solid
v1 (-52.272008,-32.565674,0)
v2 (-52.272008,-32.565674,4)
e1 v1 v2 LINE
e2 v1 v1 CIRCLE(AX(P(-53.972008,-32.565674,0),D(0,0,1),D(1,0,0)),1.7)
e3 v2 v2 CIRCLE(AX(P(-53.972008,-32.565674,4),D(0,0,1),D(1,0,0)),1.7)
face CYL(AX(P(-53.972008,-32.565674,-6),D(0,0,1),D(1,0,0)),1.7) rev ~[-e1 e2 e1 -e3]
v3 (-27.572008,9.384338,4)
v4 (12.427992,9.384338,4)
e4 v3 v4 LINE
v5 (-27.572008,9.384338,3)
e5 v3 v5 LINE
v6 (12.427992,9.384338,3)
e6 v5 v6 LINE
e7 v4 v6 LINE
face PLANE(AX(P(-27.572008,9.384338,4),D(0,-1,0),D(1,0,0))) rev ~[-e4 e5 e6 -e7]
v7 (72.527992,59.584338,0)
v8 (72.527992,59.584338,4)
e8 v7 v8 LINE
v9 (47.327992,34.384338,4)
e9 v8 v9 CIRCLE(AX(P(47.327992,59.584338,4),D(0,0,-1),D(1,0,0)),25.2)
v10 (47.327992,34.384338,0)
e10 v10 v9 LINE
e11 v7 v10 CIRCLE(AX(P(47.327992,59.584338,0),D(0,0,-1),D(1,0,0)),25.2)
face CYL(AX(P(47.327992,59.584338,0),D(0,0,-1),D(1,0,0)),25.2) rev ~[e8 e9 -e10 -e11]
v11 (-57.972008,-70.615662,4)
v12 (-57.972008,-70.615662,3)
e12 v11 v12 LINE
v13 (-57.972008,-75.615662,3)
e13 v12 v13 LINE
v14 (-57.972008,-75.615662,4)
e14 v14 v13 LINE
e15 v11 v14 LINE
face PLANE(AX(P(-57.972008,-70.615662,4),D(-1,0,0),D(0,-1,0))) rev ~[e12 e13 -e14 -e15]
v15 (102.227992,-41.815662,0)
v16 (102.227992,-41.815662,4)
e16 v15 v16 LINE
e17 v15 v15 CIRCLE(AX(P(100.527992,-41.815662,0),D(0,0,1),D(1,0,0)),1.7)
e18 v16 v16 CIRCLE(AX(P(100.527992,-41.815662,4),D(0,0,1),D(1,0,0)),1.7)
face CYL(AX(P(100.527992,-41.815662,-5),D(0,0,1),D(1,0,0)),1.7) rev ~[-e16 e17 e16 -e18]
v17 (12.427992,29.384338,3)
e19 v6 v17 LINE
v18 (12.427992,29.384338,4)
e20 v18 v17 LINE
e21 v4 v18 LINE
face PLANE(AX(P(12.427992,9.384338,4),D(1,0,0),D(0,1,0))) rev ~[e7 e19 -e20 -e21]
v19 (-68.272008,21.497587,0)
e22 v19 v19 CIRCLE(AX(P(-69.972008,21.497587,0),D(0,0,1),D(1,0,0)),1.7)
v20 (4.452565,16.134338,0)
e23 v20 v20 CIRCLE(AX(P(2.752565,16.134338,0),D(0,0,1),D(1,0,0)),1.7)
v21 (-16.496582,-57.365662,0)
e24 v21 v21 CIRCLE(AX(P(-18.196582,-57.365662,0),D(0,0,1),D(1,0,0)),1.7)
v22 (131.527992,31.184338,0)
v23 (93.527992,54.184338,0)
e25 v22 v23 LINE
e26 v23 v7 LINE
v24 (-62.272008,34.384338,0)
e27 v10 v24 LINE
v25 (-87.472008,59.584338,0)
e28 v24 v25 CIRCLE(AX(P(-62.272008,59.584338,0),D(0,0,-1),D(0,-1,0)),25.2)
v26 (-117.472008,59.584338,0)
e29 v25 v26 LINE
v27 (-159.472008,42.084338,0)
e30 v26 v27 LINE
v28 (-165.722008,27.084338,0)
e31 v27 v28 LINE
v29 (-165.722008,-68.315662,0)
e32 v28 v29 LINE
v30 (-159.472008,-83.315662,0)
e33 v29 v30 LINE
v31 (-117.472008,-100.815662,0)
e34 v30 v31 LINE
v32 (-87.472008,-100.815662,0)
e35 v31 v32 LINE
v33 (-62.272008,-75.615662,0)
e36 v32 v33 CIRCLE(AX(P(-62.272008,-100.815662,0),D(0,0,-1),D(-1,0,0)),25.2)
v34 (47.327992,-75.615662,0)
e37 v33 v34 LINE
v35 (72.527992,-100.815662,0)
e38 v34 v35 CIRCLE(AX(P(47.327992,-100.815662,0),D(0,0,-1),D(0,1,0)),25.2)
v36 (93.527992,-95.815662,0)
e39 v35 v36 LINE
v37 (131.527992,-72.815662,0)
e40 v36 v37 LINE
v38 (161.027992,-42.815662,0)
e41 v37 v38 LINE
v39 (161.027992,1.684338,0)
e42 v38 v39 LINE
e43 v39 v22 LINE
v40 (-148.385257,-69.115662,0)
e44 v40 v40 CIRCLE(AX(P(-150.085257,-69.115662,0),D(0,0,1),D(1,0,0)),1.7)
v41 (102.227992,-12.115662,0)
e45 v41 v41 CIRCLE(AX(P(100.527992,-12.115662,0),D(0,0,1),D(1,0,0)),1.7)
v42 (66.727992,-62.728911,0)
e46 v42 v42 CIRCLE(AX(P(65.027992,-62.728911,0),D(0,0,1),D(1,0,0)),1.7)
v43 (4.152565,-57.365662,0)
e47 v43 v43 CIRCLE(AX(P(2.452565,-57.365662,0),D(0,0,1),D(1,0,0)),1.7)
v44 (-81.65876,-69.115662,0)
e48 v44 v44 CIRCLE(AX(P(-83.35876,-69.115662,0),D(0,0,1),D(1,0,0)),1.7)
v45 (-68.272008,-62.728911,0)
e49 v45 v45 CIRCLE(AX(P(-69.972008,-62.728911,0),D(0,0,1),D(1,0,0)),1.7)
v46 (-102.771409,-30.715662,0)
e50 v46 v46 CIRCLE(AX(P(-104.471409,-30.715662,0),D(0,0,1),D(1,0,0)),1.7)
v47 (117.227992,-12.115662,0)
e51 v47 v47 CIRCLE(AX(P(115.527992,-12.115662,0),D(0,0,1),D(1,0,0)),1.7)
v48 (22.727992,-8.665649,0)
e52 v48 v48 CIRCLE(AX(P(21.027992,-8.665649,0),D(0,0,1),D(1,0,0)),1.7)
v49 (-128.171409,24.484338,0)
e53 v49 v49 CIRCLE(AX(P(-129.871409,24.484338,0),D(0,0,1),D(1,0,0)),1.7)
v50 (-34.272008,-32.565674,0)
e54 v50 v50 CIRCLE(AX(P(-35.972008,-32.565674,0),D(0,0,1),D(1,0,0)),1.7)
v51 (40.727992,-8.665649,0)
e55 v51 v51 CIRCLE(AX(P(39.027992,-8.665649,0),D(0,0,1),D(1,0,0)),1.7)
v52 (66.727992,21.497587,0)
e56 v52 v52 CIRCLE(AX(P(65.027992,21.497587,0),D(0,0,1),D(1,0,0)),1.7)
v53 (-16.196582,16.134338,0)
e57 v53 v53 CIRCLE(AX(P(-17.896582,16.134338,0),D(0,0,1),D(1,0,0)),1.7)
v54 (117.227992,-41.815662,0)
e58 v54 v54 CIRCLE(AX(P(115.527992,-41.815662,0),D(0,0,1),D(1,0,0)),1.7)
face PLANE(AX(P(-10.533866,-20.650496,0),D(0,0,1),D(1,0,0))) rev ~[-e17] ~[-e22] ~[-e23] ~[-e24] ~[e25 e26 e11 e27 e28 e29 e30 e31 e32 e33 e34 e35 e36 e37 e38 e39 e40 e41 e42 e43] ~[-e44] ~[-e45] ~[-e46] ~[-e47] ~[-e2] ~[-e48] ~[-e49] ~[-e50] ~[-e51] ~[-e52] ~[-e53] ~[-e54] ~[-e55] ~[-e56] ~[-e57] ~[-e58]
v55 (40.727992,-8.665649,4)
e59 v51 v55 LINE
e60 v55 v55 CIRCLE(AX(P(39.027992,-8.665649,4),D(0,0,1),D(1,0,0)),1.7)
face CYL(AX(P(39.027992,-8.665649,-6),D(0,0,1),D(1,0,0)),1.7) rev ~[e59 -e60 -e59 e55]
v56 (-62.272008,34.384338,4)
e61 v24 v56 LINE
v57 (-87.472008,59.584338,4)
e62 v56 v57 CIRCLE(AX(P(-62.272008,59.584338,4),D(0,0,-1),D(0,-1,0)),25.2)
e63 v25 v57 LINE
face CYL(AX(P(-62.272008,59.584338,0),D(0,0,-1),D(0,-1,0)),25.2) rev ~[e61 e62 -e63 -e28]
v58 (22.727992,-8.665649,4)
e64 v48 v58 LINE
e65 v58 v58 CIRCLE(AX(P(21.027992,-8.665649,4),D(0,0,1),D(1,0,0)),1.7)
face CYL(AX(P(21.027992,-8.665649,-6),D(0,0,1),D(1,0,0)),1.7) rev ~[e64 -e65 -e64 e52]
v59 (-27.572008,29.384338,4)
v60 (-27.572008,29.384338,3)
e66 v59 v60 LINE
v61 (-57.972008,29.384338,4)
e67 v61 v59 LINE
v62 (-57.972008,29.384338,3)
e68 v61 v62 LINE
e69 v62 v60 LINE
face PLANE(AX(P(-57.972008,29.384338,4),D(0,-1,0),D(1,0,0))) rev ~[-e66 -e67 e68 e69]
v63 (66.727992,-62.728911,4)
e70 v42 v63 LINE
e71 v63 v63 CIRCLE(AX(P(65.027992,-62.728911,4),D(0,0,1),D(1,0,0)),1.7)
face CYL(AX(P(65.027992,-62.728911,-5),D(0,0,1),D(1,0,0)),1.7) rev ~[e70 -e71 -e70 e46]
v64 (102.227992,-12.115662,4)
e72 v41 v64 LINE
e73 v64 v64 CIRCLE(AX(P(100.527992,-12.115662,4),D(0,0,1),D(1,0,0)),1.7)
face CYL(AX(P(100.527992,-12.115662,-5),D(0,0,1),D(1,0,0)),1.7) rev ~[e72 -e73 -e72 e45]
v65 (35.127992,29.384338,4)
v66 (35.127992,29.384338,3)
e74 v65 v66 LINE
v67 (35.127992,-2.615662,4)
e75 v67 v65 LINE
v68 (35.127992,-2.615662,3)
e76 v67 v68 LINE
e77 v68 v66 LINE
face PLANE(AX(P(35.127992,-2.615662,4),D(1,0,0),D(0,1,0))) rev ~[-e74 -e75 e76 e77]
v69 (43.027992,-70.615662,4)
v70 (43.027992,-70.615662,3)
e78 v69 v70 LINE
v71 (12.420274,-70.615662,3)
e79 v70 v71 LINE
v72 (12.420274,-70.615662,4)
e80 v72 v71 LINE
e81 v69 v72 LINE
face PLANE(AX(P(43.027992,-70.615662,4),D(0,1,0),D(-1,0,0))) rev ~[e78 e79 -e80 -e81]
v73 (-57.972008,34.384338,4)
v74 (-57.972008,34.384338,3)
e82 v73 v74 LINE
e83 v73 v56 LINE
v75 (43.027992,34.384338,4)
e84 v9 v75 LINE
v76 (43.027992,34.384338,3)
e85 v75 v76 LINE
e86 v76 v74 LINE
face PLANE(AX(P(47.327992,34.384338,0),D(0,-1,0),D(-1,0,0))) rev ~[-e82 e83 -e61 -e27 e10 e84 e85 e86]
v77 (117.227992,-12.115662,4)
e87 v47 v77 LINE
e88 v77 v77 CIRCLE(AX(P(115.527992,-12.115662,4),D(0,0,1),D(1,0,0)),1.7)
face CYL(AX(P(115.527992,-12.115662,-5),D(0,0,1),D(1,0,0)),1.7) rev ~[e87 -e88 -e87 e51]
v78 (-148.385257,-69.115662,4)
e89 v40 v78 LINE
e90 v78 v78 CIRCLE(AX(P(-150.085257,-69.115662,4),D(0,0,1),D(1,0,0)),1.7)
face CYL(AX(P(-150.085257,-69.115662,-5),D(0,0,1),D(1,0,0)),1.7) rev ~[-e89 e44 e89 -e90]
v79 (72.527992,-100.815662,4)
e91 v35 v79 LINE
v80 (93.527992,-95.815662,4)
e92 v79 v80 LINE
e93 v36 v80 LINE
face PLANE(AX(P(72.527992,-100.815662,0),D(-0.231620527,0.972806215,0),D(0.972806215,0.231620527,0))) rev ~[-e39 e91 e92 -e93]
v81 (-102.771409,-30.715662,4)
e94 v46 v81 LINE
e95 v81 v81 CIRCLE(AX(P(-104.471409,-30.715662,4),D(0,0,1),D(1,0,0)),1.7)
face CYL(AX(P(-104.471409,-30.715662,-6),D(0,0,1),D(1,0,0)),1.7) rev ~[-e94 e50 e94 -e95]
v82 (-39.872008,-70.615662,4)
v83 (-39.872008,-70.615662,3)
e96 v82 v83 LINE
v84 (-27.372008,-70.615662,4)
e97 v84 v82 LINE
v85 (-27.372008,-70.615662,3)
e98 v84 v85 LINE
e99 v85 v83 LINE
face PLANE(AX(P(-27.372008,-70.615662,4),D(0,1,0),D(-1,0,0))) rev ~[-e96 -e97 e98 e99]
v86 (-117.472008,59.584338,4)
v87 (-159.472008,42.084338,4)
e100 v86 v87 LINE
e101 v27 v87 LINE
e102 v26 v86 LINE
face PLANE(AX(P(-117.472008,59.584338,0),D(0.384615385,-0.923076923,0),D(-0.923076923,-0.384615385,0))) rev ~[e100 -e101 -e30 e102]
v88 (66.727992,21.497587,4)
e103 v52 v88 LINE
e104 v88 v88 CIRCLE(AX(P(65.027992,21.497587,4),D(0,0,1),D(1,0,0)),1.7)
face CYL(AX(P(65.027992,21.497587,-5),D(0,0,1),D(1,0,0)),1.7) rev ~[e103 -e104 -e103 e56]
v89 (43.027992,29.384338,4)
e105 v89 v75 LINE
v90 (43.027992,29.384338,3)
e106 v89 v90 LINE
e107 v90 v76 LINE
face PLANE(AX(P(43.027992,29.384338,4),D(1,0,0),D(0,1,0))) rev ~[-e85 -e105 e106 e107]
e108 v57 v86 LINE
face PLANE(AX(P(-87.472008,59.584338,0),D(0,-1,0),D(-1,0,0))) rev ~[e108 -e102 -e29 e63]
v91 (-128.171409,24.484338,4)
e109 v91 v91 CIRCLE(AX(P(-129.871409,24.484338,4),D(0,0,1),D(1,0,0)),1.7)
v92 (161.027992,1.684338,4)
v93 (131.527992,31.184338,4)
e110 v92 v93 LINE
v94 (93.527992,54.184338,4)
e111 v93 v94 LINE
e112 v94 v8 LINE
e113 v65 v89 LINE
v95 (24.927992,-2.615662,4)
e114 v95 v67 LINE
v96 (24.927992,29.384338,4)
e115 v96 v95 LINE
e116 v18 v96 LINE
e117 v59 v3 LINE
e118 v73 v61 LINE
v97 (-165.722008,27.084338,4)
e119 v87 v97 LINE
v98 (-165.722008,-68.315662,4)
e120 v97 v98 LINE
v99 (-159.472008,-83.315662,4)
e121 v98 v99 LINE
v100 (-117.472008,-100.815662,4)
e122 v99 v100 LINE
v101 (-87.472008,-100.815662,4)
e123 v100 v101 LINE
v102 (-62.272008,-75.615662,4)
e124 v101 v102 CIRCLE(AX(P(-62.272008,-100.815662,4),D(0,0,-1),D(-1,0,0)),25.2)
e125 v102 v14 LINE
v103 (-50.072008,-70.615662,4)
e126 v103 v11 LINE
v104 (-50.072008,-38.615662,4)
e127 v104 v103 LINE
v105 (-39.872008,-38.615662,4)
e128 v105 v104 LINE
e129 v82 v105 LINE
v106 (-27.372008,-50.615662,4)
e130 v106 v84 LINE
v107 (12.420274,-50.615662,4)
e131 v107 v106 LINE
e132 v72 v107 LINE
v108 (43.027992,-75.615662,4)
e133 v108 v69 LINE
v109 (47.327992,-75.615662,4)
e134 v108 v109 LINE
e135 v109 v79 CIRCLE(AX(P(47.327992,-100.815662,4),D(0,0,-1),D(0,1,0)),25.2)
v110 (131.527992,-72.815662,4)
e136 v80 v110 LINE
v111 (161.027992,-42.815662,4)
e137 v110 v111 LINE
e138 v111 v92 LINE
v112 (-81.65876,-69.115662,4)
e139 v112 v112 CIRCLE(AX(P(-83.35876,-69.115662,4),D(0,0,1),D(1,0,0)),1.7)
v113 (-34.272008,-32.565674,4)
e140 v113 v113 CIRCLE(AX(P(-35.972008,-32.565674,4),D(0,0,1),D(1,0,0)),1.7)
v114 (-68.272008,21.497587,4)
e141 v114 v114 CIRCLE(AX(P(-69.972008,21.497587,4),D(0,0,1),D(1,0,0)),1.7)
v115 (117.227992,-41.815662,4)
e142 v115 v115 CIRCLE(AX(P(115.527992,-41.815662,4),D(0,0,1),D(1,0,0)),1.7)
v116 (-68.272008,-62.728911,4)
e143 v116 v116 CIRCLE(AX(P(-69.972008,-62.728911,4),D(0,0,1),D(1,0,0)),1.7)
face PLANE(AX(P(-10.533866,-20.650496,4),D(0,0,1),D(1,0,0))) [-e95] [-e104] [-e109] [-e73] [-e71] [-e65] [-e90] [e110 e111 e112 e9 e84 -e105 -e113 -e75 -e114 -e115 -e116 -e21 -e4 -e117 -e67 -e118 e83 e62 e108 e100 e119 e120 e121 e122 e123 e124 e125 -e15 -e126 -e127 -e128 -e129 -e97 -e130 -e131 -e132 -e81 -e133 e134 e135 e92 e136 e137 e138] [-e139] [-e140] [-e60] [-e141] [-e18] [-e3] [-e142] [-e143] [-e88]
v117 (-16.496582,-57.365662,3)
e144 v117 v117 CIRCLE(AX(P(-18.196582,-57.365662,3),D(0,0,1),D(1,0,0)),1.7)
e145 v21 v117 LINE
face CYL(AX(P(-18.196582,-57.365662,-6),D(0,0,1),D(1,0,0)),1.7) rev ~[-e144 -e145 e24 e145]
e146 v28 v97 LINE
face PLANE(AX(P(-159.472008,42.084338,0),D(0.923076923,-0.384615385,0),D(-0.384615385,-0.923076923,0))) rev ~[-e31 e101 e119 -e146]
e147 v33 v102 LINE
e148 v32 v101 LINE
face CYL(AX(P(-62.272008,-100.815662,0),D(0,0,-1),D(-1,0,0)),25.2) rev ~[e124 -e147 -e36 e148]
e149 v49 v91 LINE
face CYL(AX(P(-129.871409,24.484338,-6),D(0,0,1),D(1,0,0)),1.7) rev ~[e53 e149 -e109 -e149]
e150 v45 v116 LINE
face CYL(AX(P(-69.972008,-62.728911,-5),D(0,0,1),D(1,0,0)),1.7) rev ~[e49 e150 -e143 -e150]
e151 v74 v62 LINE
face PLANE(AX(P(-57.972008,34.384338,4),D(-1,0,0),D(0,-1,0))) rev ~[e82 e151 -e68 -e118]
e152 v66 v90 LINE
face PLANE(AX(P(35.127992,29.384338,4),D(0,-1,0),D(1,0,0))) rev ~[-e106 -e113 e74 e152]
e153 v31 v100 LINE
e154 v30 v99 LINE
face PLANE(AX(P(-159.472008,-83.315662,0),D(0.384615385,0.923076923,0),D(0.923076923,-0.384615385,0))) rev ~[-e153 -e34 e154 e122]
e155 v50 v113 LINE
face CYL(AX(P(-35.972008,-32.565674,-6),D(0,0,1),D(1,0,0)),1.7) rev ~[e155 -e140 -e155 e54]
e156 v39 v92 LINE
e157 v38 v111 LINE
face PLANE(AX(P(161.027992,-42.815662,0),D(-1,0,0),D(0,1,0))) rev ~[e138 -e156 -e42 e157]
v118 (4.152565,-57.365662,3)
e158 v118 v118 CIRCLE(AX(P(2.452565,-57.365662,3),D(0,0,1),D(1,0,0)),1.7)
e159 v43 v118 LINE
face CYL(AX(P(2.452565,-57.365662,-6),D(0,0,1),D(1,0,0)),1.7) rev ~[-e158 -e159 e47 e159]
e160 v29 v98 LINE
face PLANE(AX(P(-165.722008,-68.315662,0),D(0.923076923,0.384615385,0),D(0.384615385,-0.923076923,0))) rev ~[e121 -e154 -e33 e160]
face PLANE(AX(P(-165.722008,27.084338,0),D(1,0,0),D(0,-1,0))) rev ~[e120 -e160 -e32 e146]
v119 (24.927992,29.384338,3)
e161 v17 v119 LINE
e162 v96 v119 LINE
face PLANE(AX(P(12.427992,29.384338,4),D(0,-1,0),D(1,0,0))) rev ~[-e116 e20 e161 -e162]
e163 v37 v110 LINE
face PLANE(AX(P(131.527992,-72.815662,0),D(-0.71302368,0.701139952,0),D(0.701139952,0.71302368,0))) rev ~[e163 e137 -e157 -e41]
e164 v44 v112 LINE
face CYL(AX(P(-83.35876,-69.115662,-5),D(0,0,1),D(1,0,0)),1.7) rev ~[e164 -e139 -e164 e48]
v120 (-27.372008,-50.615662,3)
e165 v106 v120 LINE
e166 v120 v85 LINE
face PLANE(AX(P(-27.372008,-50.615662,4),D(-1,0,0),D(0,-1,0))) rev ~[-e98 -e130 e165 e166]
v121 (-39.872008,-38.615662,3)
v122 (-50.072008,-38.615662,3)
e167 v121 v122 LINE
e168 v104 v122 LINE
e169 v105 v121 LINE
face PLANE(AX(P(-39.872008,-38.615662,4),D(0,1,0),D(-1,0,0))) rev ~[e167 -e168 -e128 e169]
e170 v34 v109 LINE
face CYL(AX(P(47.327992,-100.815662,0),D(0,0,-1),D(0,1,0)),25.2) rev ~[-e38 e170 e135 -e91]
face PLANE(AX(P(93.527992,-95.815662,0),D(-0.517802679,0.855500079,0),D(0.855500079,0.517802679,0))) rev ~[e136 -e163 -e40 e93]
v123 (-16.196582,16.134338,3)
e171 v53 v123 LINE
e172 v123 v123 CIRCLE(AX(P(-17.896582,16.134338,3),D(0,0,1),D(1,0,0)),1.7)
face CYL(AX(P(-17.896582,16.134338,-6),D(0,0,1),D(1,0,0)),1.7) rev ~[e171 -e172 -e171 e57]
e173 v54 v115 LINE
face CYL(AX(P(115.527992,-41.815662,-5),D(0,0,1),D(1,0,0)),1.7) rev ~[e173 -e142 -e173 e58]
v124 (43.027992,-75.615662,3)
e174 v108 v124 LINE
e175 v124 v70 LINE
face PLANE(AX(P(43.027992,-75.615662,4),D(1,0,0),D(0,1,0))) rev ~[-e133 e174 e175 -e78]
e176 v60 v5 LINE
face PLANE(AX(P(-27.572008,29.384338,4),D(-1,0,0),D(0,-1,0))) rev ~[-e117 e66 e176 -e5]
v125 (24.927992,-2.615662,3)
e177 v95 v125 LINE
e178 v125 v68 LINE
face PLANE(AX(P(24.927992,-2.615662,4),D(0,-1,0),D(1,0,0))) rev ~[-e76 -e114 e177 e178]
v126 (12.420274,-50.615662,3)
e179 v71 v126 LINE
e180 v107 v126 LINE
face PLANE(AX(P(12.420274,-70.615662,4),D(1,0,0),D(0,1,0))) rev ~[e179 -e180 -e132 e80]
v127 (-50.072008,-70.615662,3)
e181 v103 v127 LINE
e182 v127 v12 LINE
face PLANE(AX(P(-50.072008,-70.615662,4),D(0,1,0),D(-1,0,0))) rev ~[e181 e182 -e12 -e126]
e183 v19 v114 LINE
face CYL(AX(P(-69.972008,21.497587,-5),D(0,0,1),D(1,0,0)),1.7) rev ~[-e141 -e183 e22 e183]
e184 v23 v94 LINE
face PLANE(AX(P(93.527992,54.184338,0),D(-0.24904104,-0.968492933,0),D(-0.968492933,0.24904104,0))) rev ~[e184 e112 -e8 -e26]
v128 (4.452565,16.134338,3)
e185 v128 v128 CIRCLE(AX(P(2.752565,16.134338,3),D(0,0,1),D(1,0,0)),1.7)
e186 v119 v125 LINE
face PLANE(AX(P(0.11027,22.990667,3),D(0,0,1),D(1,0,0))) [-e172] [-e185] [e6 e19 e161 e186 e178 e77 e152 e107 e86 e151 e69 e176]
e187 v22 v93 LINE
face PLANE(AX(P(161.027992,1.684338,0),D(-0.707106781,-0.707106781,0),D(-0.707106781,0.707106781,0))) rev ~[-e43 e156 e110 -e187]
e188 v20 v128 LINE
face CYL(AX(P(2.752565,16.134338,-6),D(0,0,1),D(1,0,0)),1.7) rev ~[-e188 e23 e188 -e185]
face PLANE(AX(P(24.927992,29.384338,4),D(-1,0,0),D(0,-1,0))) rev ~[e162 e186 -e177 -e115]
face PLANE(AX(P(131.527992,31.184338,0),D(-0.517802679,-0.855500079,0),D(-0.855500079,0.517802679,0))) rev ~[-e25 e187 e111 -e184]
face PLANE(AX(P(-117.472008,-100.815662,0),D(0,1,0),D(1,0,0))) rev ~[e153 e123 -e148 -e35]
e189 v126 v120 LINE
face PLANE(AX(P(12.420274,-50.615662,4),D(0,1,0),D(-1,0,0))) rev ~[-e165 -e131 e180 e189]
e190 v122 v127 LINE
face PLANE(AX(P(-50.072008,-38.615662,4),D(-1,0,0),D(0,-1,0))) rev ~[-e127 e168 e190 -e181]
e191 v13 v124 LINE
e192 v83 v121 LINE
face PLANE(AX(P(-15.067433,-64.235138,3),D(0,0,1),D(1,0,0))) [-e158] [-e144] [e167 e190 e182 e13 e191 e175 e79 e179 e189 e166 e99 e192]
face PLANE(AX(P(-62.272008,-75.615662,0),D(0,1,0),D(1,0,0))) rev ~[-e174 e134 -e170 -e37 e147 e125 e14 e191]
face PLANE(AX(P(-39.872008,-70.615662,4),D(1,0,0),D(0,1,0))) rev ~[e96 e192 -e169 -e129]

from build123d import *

# Parameters (mm, degrees)
BOSS_EXTRU_1_DEPTH      = 4
D_GAGEMENT_M2_51_D      = 2.9
D_GAGEMENT_M2_51_DEPTH  = 5
D_GAGEMENT_M2_51_TIP    = 0.871247898
D_GAGEMENT_M31_D        = 3.4
D_GAGEMENT_M31_DEPTH    = 6
D_GAGEMENT_M31_TIP      = 1.021463052
D_GAGEMENT_M32_D        = 3.4
D_GAGEMENT_M32_DEPTH    = 5
D_GAGEMENT_M32_TIP      = 1.021463052
ENL_V_MAT_EXTRU_1_DEPTH = 1
ENL_V_MAT_EXTRU_2_DEPTH = 1
D_GAGEMENT_M33_D        = 3.4
D_GAGEMENT_M33_DEPTH    = 6
D_GAGEMENT_M33_TIP      = 1.021463052
D_GAGEMENT_M34_D        = 3.4
D_GAGEMENT_M34_DEPTH    = 5
D_GAGEMENT_M34_TIP      = 1.021463052
D_GAGEMENT_M35_D        = 3.4
D_GAGEMENT_M35_DEPTH    = 5
D_GAGEMENT_M35_TIP      = 1.021463052


with BuildPart() as part:
    # Esquisse1 → Boss.-Extru.1 (new body)
    with BuildSketch(Plane.XY):
        with BuildLine():
            Line((-87.472008168, 59.584338106), (-117.472008168, 59.584338106))
            Line((-117.472008168, 59.584338106), (-159.472008168, 42.084338106))
            Line((-159.472008168, 42.084338106), (-165.722008168, 27.084338106))
            Line((-165.722008168, 27.084338106), (-165.722008168, -68.315661894))
            Line((-165.722008168, -68.315661894), (-159.472008168, -83.315661894))
            Line((-159.472008168, -83.315661894), (-117.472008168, -100.815661894))
            Line((-117.472008168, -100.815661894), (-87.472008168, -100.815661894))
            ThreePointArc((-87.472008168, -100.815661894), (-80.091099054, -82.996571008), (-62.272008168, -75.615661894))
            Line((-62.272008168, -75.615661894), (47.327991832, -75.615661894))
            ThreePointArc((47.327991832, -75.615661894), (65.147082718, -82.996571008), (72.527991832, -100.815661894))
            Line((72.527991832, -100.815661894), (93.527991832, -95.815661894))
            Line((93.527991832, -95.815661894), (131.527991832, -72.815661894))
            Line((131.527991832, -72.815661894), (161.027991832, -42.815661894))
            Line((161.027991832, -42.815661894), (161.027991832, 1.684338106))
            Line((161.027991832, 1.684338106), (131.527991832, 31.184338106))
            Line((131.527991832, 31.184338106), (93.527991832, 54.184338106))
            Line((93.527991832, 54.184338106), (72.527991832, 59.584338106))
            ThreePointArc((72.527991832, 59.584338106), (65.147082718, 41.76524722), (47.327991832, 34.384338106))
            Line((47.327991832, 34.384338106), (-62.272008168, 34.384338106))
            ThreePointArc((-62.272008168, 34.384338106), (-80.091099054, 41.76524722), (-87.472008168, 59.584338106))
        make_face()
    extrude(amount=BOSS_EXTRU_1_DEPTH)

    # Dégagement M2.51
    with Locations(Plane(origin=(0, 0, 0), x_dir=(-1, 0, 0), z_dir=(0, 0, -1))):
        with Locations((-21.027991832, -8.66564946), (-39.027991832, -8.66564946), (35.972008168, -32.565674331), (53.972008168, -32.565674331)):
            Hole(D_GAGEMENT_M2_51_D / 2, depth=D_GAGEMENT_M2_51_DEPTH)
            with Locations((0, 0, -(D_GAGEMENT_M2_51_DEPTH + D_GAGEMENT_M2_51_TIP / 2))):  # 118° drill point
                Cone(0, D_GAGEMENT_M2_51_D / 2, D_GAGEMENT_M2_51_TIP, mode=Mode.SUBTRACT)

    # Dégagement M31
    with Locations(Plane(origin=(0, 0, 0), x_dir=(-1, 0, 0), z_dir=(0, 0, -1))):
        with Locations((17.896581687, 16.134338106), (-2.752565352, 16.134338106), (53.972008168, -32.565674331), (35.972008168, -32.565674331), (18.196581687, -57.365661894), (-2.452565352, -57.365661894), (-39.027991832, -8.66564946), (-21.027991832, -8.66564946)):
            Hole(D_GAGEMENT_M31_D / 2, depth=D_GAGEMENT_M31_DEPTH)
            with Locations((0, 0, -(D_GAGEMENT_M31_DEPTH + D_GAGEMENT_M31_TIP / 2))):  # 118° drill point
                Cone(0, D_GAGEMENT_M31_D / 2, D_GAGEMENT_M31_TIP, mode=Mode.SUBTRACT)

    # Dégagement M32
    with Locations(Plane(origin=(0, 0, 0), x_dir=(-1, 0, 0), z_dir=(0, 0, -1))):
        with Locations((69.972008168, -62.728910548), (69.972008168, 21.49758676), (-65.027991832, -62.728910548), (-65.027991832, 21.49758676)):
            Hole(D_GAGEMENT_M32_D / 2, depth=D_GAGEMENT_M32_DEPTH)
            with Locations((0, 0, -(D_GAGEMENT_M32_DEPTH + D_GAGEMENT_M32_TIP / 2))):  # 118° drill point
                Cone(0, D_GAGEMENT_M32_D / 2, D_GAGEMENT_M32_TIP, mode=Mode.SUBTRACT)

    # Esquisse10 → Enlèv. mat.-Extru.1 (cut)
    with BuildSketch(Plane.XY.offset(4)):
        Polygon((43.027991832, -75.615661894), (43.027991832, -70.615661894), (12.42027445, -70.615661894), (12.42027445, -50.615661894), (-27.372008168, -50.615661894), (-27.372008168, -70.615661894), (-36.072008168, -70.615661894), (-39.872008168, -70.615661894), (-39.872008168, -38.615661894), (-50.072008168, -38.615661894), (-50.072008168, -70.615661894), (-57.972008168, -70.615661894), (-57.972008168, -75.615661894), align=None)
    extrude(amount=-ENL_V_MAT_EXTRU_1_DEPTH, mode=Mode.SUBTRACT)

    # Esquisse10<3> → Enlèv. mat.-Extru.2 (cut)
    with BuildSketch(Plane.XY.offset(4)):
        Polygon((43.027991832, 29.384338106), (43.027991832, 34.384338106), (-57.972008168, 34.384338106), (-57.972008168, 29.384338106), (-27.572008168, 29.384338106), (-27.572008168, 9.384338106), (12.427991832, 9.384338106), (12.427991832, 29.384338106), (24.927991832, 29.384338106), (24.927991832, -2.615661894), (35.127991832, -2.615661894), (35.127991832, 29.384338106), align=None)
    extrude(amount=-ENL_V_MAT_EXTRU_2_DEPTH, mode=Mode.SUBTRACT)

    # Dégagement M33
    with Locations(Plane(origin=(0, 0, 0), x_dir=(-1, 0, 0), z_dir=(0, 0, -1))):
        with Locations((104.471408589, -30.715661894), (129.871408589, 24.484338106)):
            Hole(D_GAGEMENT_M33_D / 2, depth=D_GAGEMENT_M33_DEPTH)
            with Locations((0, 0, -(D_GAGEMENT_M33_DEPTH + D_GAGEMENT_M33_TIP / 2))):  # 118° drill point
                Cone(0, D_GAGEMENT_M33_D / 2, D_GAGEMENT_M33_TIP, mode=Mode.SUBTRACT)

    # Dégagement M34
    with Locations(Plane(origin=(0, 0, 0), x_dir=(-1, 0, 0), z_dir=(0, 0, -1))):
        with Locations((-100.527991832, -41.815661894), (-115.527991832, -41.815661894), (-100.527991832, -12.115661894), (-115.527991832, -12.115661894)):
            Hole(D_GAGEMENT_M34_D / 2, depth=D_GAGEMENT_M34_DEPTH)
            with Locations((0, 0, -(D_GAGEMENT_M34_DEPTH + D_GAGEMENT_M34_TIP / 2))):  # 118° drill point
                Cone(0, D_GAGEMENT_M34_D / 2, D_GAGEMENT_M34_TIP, mode=Mode.SUBTRACT)

    # Dégagement M35
    with Locations(Plane(origin=(0, 0, 0), x_dir=(-1, 0, 0), z_dir=(0, 0, -1))):
        with Locations((150.085256822, -69.115661894), (83.358759514, -69.115661894)):
            Hole(D_GAGEMENT_M35_D / 2, depth=D_GAGEMENT_M35_DEPTH)
            with Locations((0, 0, -(D_GAGEMENT_M35_DEPTH + D_GAGEMENT_M35_TIP / 2))):  # 118° drill point
                Cone(0, D_GAGEMENT_M35_D / 2, D_GAGEMENT_M35_TIP, mode=Mode.SUBTRACT)


solid = part.part
